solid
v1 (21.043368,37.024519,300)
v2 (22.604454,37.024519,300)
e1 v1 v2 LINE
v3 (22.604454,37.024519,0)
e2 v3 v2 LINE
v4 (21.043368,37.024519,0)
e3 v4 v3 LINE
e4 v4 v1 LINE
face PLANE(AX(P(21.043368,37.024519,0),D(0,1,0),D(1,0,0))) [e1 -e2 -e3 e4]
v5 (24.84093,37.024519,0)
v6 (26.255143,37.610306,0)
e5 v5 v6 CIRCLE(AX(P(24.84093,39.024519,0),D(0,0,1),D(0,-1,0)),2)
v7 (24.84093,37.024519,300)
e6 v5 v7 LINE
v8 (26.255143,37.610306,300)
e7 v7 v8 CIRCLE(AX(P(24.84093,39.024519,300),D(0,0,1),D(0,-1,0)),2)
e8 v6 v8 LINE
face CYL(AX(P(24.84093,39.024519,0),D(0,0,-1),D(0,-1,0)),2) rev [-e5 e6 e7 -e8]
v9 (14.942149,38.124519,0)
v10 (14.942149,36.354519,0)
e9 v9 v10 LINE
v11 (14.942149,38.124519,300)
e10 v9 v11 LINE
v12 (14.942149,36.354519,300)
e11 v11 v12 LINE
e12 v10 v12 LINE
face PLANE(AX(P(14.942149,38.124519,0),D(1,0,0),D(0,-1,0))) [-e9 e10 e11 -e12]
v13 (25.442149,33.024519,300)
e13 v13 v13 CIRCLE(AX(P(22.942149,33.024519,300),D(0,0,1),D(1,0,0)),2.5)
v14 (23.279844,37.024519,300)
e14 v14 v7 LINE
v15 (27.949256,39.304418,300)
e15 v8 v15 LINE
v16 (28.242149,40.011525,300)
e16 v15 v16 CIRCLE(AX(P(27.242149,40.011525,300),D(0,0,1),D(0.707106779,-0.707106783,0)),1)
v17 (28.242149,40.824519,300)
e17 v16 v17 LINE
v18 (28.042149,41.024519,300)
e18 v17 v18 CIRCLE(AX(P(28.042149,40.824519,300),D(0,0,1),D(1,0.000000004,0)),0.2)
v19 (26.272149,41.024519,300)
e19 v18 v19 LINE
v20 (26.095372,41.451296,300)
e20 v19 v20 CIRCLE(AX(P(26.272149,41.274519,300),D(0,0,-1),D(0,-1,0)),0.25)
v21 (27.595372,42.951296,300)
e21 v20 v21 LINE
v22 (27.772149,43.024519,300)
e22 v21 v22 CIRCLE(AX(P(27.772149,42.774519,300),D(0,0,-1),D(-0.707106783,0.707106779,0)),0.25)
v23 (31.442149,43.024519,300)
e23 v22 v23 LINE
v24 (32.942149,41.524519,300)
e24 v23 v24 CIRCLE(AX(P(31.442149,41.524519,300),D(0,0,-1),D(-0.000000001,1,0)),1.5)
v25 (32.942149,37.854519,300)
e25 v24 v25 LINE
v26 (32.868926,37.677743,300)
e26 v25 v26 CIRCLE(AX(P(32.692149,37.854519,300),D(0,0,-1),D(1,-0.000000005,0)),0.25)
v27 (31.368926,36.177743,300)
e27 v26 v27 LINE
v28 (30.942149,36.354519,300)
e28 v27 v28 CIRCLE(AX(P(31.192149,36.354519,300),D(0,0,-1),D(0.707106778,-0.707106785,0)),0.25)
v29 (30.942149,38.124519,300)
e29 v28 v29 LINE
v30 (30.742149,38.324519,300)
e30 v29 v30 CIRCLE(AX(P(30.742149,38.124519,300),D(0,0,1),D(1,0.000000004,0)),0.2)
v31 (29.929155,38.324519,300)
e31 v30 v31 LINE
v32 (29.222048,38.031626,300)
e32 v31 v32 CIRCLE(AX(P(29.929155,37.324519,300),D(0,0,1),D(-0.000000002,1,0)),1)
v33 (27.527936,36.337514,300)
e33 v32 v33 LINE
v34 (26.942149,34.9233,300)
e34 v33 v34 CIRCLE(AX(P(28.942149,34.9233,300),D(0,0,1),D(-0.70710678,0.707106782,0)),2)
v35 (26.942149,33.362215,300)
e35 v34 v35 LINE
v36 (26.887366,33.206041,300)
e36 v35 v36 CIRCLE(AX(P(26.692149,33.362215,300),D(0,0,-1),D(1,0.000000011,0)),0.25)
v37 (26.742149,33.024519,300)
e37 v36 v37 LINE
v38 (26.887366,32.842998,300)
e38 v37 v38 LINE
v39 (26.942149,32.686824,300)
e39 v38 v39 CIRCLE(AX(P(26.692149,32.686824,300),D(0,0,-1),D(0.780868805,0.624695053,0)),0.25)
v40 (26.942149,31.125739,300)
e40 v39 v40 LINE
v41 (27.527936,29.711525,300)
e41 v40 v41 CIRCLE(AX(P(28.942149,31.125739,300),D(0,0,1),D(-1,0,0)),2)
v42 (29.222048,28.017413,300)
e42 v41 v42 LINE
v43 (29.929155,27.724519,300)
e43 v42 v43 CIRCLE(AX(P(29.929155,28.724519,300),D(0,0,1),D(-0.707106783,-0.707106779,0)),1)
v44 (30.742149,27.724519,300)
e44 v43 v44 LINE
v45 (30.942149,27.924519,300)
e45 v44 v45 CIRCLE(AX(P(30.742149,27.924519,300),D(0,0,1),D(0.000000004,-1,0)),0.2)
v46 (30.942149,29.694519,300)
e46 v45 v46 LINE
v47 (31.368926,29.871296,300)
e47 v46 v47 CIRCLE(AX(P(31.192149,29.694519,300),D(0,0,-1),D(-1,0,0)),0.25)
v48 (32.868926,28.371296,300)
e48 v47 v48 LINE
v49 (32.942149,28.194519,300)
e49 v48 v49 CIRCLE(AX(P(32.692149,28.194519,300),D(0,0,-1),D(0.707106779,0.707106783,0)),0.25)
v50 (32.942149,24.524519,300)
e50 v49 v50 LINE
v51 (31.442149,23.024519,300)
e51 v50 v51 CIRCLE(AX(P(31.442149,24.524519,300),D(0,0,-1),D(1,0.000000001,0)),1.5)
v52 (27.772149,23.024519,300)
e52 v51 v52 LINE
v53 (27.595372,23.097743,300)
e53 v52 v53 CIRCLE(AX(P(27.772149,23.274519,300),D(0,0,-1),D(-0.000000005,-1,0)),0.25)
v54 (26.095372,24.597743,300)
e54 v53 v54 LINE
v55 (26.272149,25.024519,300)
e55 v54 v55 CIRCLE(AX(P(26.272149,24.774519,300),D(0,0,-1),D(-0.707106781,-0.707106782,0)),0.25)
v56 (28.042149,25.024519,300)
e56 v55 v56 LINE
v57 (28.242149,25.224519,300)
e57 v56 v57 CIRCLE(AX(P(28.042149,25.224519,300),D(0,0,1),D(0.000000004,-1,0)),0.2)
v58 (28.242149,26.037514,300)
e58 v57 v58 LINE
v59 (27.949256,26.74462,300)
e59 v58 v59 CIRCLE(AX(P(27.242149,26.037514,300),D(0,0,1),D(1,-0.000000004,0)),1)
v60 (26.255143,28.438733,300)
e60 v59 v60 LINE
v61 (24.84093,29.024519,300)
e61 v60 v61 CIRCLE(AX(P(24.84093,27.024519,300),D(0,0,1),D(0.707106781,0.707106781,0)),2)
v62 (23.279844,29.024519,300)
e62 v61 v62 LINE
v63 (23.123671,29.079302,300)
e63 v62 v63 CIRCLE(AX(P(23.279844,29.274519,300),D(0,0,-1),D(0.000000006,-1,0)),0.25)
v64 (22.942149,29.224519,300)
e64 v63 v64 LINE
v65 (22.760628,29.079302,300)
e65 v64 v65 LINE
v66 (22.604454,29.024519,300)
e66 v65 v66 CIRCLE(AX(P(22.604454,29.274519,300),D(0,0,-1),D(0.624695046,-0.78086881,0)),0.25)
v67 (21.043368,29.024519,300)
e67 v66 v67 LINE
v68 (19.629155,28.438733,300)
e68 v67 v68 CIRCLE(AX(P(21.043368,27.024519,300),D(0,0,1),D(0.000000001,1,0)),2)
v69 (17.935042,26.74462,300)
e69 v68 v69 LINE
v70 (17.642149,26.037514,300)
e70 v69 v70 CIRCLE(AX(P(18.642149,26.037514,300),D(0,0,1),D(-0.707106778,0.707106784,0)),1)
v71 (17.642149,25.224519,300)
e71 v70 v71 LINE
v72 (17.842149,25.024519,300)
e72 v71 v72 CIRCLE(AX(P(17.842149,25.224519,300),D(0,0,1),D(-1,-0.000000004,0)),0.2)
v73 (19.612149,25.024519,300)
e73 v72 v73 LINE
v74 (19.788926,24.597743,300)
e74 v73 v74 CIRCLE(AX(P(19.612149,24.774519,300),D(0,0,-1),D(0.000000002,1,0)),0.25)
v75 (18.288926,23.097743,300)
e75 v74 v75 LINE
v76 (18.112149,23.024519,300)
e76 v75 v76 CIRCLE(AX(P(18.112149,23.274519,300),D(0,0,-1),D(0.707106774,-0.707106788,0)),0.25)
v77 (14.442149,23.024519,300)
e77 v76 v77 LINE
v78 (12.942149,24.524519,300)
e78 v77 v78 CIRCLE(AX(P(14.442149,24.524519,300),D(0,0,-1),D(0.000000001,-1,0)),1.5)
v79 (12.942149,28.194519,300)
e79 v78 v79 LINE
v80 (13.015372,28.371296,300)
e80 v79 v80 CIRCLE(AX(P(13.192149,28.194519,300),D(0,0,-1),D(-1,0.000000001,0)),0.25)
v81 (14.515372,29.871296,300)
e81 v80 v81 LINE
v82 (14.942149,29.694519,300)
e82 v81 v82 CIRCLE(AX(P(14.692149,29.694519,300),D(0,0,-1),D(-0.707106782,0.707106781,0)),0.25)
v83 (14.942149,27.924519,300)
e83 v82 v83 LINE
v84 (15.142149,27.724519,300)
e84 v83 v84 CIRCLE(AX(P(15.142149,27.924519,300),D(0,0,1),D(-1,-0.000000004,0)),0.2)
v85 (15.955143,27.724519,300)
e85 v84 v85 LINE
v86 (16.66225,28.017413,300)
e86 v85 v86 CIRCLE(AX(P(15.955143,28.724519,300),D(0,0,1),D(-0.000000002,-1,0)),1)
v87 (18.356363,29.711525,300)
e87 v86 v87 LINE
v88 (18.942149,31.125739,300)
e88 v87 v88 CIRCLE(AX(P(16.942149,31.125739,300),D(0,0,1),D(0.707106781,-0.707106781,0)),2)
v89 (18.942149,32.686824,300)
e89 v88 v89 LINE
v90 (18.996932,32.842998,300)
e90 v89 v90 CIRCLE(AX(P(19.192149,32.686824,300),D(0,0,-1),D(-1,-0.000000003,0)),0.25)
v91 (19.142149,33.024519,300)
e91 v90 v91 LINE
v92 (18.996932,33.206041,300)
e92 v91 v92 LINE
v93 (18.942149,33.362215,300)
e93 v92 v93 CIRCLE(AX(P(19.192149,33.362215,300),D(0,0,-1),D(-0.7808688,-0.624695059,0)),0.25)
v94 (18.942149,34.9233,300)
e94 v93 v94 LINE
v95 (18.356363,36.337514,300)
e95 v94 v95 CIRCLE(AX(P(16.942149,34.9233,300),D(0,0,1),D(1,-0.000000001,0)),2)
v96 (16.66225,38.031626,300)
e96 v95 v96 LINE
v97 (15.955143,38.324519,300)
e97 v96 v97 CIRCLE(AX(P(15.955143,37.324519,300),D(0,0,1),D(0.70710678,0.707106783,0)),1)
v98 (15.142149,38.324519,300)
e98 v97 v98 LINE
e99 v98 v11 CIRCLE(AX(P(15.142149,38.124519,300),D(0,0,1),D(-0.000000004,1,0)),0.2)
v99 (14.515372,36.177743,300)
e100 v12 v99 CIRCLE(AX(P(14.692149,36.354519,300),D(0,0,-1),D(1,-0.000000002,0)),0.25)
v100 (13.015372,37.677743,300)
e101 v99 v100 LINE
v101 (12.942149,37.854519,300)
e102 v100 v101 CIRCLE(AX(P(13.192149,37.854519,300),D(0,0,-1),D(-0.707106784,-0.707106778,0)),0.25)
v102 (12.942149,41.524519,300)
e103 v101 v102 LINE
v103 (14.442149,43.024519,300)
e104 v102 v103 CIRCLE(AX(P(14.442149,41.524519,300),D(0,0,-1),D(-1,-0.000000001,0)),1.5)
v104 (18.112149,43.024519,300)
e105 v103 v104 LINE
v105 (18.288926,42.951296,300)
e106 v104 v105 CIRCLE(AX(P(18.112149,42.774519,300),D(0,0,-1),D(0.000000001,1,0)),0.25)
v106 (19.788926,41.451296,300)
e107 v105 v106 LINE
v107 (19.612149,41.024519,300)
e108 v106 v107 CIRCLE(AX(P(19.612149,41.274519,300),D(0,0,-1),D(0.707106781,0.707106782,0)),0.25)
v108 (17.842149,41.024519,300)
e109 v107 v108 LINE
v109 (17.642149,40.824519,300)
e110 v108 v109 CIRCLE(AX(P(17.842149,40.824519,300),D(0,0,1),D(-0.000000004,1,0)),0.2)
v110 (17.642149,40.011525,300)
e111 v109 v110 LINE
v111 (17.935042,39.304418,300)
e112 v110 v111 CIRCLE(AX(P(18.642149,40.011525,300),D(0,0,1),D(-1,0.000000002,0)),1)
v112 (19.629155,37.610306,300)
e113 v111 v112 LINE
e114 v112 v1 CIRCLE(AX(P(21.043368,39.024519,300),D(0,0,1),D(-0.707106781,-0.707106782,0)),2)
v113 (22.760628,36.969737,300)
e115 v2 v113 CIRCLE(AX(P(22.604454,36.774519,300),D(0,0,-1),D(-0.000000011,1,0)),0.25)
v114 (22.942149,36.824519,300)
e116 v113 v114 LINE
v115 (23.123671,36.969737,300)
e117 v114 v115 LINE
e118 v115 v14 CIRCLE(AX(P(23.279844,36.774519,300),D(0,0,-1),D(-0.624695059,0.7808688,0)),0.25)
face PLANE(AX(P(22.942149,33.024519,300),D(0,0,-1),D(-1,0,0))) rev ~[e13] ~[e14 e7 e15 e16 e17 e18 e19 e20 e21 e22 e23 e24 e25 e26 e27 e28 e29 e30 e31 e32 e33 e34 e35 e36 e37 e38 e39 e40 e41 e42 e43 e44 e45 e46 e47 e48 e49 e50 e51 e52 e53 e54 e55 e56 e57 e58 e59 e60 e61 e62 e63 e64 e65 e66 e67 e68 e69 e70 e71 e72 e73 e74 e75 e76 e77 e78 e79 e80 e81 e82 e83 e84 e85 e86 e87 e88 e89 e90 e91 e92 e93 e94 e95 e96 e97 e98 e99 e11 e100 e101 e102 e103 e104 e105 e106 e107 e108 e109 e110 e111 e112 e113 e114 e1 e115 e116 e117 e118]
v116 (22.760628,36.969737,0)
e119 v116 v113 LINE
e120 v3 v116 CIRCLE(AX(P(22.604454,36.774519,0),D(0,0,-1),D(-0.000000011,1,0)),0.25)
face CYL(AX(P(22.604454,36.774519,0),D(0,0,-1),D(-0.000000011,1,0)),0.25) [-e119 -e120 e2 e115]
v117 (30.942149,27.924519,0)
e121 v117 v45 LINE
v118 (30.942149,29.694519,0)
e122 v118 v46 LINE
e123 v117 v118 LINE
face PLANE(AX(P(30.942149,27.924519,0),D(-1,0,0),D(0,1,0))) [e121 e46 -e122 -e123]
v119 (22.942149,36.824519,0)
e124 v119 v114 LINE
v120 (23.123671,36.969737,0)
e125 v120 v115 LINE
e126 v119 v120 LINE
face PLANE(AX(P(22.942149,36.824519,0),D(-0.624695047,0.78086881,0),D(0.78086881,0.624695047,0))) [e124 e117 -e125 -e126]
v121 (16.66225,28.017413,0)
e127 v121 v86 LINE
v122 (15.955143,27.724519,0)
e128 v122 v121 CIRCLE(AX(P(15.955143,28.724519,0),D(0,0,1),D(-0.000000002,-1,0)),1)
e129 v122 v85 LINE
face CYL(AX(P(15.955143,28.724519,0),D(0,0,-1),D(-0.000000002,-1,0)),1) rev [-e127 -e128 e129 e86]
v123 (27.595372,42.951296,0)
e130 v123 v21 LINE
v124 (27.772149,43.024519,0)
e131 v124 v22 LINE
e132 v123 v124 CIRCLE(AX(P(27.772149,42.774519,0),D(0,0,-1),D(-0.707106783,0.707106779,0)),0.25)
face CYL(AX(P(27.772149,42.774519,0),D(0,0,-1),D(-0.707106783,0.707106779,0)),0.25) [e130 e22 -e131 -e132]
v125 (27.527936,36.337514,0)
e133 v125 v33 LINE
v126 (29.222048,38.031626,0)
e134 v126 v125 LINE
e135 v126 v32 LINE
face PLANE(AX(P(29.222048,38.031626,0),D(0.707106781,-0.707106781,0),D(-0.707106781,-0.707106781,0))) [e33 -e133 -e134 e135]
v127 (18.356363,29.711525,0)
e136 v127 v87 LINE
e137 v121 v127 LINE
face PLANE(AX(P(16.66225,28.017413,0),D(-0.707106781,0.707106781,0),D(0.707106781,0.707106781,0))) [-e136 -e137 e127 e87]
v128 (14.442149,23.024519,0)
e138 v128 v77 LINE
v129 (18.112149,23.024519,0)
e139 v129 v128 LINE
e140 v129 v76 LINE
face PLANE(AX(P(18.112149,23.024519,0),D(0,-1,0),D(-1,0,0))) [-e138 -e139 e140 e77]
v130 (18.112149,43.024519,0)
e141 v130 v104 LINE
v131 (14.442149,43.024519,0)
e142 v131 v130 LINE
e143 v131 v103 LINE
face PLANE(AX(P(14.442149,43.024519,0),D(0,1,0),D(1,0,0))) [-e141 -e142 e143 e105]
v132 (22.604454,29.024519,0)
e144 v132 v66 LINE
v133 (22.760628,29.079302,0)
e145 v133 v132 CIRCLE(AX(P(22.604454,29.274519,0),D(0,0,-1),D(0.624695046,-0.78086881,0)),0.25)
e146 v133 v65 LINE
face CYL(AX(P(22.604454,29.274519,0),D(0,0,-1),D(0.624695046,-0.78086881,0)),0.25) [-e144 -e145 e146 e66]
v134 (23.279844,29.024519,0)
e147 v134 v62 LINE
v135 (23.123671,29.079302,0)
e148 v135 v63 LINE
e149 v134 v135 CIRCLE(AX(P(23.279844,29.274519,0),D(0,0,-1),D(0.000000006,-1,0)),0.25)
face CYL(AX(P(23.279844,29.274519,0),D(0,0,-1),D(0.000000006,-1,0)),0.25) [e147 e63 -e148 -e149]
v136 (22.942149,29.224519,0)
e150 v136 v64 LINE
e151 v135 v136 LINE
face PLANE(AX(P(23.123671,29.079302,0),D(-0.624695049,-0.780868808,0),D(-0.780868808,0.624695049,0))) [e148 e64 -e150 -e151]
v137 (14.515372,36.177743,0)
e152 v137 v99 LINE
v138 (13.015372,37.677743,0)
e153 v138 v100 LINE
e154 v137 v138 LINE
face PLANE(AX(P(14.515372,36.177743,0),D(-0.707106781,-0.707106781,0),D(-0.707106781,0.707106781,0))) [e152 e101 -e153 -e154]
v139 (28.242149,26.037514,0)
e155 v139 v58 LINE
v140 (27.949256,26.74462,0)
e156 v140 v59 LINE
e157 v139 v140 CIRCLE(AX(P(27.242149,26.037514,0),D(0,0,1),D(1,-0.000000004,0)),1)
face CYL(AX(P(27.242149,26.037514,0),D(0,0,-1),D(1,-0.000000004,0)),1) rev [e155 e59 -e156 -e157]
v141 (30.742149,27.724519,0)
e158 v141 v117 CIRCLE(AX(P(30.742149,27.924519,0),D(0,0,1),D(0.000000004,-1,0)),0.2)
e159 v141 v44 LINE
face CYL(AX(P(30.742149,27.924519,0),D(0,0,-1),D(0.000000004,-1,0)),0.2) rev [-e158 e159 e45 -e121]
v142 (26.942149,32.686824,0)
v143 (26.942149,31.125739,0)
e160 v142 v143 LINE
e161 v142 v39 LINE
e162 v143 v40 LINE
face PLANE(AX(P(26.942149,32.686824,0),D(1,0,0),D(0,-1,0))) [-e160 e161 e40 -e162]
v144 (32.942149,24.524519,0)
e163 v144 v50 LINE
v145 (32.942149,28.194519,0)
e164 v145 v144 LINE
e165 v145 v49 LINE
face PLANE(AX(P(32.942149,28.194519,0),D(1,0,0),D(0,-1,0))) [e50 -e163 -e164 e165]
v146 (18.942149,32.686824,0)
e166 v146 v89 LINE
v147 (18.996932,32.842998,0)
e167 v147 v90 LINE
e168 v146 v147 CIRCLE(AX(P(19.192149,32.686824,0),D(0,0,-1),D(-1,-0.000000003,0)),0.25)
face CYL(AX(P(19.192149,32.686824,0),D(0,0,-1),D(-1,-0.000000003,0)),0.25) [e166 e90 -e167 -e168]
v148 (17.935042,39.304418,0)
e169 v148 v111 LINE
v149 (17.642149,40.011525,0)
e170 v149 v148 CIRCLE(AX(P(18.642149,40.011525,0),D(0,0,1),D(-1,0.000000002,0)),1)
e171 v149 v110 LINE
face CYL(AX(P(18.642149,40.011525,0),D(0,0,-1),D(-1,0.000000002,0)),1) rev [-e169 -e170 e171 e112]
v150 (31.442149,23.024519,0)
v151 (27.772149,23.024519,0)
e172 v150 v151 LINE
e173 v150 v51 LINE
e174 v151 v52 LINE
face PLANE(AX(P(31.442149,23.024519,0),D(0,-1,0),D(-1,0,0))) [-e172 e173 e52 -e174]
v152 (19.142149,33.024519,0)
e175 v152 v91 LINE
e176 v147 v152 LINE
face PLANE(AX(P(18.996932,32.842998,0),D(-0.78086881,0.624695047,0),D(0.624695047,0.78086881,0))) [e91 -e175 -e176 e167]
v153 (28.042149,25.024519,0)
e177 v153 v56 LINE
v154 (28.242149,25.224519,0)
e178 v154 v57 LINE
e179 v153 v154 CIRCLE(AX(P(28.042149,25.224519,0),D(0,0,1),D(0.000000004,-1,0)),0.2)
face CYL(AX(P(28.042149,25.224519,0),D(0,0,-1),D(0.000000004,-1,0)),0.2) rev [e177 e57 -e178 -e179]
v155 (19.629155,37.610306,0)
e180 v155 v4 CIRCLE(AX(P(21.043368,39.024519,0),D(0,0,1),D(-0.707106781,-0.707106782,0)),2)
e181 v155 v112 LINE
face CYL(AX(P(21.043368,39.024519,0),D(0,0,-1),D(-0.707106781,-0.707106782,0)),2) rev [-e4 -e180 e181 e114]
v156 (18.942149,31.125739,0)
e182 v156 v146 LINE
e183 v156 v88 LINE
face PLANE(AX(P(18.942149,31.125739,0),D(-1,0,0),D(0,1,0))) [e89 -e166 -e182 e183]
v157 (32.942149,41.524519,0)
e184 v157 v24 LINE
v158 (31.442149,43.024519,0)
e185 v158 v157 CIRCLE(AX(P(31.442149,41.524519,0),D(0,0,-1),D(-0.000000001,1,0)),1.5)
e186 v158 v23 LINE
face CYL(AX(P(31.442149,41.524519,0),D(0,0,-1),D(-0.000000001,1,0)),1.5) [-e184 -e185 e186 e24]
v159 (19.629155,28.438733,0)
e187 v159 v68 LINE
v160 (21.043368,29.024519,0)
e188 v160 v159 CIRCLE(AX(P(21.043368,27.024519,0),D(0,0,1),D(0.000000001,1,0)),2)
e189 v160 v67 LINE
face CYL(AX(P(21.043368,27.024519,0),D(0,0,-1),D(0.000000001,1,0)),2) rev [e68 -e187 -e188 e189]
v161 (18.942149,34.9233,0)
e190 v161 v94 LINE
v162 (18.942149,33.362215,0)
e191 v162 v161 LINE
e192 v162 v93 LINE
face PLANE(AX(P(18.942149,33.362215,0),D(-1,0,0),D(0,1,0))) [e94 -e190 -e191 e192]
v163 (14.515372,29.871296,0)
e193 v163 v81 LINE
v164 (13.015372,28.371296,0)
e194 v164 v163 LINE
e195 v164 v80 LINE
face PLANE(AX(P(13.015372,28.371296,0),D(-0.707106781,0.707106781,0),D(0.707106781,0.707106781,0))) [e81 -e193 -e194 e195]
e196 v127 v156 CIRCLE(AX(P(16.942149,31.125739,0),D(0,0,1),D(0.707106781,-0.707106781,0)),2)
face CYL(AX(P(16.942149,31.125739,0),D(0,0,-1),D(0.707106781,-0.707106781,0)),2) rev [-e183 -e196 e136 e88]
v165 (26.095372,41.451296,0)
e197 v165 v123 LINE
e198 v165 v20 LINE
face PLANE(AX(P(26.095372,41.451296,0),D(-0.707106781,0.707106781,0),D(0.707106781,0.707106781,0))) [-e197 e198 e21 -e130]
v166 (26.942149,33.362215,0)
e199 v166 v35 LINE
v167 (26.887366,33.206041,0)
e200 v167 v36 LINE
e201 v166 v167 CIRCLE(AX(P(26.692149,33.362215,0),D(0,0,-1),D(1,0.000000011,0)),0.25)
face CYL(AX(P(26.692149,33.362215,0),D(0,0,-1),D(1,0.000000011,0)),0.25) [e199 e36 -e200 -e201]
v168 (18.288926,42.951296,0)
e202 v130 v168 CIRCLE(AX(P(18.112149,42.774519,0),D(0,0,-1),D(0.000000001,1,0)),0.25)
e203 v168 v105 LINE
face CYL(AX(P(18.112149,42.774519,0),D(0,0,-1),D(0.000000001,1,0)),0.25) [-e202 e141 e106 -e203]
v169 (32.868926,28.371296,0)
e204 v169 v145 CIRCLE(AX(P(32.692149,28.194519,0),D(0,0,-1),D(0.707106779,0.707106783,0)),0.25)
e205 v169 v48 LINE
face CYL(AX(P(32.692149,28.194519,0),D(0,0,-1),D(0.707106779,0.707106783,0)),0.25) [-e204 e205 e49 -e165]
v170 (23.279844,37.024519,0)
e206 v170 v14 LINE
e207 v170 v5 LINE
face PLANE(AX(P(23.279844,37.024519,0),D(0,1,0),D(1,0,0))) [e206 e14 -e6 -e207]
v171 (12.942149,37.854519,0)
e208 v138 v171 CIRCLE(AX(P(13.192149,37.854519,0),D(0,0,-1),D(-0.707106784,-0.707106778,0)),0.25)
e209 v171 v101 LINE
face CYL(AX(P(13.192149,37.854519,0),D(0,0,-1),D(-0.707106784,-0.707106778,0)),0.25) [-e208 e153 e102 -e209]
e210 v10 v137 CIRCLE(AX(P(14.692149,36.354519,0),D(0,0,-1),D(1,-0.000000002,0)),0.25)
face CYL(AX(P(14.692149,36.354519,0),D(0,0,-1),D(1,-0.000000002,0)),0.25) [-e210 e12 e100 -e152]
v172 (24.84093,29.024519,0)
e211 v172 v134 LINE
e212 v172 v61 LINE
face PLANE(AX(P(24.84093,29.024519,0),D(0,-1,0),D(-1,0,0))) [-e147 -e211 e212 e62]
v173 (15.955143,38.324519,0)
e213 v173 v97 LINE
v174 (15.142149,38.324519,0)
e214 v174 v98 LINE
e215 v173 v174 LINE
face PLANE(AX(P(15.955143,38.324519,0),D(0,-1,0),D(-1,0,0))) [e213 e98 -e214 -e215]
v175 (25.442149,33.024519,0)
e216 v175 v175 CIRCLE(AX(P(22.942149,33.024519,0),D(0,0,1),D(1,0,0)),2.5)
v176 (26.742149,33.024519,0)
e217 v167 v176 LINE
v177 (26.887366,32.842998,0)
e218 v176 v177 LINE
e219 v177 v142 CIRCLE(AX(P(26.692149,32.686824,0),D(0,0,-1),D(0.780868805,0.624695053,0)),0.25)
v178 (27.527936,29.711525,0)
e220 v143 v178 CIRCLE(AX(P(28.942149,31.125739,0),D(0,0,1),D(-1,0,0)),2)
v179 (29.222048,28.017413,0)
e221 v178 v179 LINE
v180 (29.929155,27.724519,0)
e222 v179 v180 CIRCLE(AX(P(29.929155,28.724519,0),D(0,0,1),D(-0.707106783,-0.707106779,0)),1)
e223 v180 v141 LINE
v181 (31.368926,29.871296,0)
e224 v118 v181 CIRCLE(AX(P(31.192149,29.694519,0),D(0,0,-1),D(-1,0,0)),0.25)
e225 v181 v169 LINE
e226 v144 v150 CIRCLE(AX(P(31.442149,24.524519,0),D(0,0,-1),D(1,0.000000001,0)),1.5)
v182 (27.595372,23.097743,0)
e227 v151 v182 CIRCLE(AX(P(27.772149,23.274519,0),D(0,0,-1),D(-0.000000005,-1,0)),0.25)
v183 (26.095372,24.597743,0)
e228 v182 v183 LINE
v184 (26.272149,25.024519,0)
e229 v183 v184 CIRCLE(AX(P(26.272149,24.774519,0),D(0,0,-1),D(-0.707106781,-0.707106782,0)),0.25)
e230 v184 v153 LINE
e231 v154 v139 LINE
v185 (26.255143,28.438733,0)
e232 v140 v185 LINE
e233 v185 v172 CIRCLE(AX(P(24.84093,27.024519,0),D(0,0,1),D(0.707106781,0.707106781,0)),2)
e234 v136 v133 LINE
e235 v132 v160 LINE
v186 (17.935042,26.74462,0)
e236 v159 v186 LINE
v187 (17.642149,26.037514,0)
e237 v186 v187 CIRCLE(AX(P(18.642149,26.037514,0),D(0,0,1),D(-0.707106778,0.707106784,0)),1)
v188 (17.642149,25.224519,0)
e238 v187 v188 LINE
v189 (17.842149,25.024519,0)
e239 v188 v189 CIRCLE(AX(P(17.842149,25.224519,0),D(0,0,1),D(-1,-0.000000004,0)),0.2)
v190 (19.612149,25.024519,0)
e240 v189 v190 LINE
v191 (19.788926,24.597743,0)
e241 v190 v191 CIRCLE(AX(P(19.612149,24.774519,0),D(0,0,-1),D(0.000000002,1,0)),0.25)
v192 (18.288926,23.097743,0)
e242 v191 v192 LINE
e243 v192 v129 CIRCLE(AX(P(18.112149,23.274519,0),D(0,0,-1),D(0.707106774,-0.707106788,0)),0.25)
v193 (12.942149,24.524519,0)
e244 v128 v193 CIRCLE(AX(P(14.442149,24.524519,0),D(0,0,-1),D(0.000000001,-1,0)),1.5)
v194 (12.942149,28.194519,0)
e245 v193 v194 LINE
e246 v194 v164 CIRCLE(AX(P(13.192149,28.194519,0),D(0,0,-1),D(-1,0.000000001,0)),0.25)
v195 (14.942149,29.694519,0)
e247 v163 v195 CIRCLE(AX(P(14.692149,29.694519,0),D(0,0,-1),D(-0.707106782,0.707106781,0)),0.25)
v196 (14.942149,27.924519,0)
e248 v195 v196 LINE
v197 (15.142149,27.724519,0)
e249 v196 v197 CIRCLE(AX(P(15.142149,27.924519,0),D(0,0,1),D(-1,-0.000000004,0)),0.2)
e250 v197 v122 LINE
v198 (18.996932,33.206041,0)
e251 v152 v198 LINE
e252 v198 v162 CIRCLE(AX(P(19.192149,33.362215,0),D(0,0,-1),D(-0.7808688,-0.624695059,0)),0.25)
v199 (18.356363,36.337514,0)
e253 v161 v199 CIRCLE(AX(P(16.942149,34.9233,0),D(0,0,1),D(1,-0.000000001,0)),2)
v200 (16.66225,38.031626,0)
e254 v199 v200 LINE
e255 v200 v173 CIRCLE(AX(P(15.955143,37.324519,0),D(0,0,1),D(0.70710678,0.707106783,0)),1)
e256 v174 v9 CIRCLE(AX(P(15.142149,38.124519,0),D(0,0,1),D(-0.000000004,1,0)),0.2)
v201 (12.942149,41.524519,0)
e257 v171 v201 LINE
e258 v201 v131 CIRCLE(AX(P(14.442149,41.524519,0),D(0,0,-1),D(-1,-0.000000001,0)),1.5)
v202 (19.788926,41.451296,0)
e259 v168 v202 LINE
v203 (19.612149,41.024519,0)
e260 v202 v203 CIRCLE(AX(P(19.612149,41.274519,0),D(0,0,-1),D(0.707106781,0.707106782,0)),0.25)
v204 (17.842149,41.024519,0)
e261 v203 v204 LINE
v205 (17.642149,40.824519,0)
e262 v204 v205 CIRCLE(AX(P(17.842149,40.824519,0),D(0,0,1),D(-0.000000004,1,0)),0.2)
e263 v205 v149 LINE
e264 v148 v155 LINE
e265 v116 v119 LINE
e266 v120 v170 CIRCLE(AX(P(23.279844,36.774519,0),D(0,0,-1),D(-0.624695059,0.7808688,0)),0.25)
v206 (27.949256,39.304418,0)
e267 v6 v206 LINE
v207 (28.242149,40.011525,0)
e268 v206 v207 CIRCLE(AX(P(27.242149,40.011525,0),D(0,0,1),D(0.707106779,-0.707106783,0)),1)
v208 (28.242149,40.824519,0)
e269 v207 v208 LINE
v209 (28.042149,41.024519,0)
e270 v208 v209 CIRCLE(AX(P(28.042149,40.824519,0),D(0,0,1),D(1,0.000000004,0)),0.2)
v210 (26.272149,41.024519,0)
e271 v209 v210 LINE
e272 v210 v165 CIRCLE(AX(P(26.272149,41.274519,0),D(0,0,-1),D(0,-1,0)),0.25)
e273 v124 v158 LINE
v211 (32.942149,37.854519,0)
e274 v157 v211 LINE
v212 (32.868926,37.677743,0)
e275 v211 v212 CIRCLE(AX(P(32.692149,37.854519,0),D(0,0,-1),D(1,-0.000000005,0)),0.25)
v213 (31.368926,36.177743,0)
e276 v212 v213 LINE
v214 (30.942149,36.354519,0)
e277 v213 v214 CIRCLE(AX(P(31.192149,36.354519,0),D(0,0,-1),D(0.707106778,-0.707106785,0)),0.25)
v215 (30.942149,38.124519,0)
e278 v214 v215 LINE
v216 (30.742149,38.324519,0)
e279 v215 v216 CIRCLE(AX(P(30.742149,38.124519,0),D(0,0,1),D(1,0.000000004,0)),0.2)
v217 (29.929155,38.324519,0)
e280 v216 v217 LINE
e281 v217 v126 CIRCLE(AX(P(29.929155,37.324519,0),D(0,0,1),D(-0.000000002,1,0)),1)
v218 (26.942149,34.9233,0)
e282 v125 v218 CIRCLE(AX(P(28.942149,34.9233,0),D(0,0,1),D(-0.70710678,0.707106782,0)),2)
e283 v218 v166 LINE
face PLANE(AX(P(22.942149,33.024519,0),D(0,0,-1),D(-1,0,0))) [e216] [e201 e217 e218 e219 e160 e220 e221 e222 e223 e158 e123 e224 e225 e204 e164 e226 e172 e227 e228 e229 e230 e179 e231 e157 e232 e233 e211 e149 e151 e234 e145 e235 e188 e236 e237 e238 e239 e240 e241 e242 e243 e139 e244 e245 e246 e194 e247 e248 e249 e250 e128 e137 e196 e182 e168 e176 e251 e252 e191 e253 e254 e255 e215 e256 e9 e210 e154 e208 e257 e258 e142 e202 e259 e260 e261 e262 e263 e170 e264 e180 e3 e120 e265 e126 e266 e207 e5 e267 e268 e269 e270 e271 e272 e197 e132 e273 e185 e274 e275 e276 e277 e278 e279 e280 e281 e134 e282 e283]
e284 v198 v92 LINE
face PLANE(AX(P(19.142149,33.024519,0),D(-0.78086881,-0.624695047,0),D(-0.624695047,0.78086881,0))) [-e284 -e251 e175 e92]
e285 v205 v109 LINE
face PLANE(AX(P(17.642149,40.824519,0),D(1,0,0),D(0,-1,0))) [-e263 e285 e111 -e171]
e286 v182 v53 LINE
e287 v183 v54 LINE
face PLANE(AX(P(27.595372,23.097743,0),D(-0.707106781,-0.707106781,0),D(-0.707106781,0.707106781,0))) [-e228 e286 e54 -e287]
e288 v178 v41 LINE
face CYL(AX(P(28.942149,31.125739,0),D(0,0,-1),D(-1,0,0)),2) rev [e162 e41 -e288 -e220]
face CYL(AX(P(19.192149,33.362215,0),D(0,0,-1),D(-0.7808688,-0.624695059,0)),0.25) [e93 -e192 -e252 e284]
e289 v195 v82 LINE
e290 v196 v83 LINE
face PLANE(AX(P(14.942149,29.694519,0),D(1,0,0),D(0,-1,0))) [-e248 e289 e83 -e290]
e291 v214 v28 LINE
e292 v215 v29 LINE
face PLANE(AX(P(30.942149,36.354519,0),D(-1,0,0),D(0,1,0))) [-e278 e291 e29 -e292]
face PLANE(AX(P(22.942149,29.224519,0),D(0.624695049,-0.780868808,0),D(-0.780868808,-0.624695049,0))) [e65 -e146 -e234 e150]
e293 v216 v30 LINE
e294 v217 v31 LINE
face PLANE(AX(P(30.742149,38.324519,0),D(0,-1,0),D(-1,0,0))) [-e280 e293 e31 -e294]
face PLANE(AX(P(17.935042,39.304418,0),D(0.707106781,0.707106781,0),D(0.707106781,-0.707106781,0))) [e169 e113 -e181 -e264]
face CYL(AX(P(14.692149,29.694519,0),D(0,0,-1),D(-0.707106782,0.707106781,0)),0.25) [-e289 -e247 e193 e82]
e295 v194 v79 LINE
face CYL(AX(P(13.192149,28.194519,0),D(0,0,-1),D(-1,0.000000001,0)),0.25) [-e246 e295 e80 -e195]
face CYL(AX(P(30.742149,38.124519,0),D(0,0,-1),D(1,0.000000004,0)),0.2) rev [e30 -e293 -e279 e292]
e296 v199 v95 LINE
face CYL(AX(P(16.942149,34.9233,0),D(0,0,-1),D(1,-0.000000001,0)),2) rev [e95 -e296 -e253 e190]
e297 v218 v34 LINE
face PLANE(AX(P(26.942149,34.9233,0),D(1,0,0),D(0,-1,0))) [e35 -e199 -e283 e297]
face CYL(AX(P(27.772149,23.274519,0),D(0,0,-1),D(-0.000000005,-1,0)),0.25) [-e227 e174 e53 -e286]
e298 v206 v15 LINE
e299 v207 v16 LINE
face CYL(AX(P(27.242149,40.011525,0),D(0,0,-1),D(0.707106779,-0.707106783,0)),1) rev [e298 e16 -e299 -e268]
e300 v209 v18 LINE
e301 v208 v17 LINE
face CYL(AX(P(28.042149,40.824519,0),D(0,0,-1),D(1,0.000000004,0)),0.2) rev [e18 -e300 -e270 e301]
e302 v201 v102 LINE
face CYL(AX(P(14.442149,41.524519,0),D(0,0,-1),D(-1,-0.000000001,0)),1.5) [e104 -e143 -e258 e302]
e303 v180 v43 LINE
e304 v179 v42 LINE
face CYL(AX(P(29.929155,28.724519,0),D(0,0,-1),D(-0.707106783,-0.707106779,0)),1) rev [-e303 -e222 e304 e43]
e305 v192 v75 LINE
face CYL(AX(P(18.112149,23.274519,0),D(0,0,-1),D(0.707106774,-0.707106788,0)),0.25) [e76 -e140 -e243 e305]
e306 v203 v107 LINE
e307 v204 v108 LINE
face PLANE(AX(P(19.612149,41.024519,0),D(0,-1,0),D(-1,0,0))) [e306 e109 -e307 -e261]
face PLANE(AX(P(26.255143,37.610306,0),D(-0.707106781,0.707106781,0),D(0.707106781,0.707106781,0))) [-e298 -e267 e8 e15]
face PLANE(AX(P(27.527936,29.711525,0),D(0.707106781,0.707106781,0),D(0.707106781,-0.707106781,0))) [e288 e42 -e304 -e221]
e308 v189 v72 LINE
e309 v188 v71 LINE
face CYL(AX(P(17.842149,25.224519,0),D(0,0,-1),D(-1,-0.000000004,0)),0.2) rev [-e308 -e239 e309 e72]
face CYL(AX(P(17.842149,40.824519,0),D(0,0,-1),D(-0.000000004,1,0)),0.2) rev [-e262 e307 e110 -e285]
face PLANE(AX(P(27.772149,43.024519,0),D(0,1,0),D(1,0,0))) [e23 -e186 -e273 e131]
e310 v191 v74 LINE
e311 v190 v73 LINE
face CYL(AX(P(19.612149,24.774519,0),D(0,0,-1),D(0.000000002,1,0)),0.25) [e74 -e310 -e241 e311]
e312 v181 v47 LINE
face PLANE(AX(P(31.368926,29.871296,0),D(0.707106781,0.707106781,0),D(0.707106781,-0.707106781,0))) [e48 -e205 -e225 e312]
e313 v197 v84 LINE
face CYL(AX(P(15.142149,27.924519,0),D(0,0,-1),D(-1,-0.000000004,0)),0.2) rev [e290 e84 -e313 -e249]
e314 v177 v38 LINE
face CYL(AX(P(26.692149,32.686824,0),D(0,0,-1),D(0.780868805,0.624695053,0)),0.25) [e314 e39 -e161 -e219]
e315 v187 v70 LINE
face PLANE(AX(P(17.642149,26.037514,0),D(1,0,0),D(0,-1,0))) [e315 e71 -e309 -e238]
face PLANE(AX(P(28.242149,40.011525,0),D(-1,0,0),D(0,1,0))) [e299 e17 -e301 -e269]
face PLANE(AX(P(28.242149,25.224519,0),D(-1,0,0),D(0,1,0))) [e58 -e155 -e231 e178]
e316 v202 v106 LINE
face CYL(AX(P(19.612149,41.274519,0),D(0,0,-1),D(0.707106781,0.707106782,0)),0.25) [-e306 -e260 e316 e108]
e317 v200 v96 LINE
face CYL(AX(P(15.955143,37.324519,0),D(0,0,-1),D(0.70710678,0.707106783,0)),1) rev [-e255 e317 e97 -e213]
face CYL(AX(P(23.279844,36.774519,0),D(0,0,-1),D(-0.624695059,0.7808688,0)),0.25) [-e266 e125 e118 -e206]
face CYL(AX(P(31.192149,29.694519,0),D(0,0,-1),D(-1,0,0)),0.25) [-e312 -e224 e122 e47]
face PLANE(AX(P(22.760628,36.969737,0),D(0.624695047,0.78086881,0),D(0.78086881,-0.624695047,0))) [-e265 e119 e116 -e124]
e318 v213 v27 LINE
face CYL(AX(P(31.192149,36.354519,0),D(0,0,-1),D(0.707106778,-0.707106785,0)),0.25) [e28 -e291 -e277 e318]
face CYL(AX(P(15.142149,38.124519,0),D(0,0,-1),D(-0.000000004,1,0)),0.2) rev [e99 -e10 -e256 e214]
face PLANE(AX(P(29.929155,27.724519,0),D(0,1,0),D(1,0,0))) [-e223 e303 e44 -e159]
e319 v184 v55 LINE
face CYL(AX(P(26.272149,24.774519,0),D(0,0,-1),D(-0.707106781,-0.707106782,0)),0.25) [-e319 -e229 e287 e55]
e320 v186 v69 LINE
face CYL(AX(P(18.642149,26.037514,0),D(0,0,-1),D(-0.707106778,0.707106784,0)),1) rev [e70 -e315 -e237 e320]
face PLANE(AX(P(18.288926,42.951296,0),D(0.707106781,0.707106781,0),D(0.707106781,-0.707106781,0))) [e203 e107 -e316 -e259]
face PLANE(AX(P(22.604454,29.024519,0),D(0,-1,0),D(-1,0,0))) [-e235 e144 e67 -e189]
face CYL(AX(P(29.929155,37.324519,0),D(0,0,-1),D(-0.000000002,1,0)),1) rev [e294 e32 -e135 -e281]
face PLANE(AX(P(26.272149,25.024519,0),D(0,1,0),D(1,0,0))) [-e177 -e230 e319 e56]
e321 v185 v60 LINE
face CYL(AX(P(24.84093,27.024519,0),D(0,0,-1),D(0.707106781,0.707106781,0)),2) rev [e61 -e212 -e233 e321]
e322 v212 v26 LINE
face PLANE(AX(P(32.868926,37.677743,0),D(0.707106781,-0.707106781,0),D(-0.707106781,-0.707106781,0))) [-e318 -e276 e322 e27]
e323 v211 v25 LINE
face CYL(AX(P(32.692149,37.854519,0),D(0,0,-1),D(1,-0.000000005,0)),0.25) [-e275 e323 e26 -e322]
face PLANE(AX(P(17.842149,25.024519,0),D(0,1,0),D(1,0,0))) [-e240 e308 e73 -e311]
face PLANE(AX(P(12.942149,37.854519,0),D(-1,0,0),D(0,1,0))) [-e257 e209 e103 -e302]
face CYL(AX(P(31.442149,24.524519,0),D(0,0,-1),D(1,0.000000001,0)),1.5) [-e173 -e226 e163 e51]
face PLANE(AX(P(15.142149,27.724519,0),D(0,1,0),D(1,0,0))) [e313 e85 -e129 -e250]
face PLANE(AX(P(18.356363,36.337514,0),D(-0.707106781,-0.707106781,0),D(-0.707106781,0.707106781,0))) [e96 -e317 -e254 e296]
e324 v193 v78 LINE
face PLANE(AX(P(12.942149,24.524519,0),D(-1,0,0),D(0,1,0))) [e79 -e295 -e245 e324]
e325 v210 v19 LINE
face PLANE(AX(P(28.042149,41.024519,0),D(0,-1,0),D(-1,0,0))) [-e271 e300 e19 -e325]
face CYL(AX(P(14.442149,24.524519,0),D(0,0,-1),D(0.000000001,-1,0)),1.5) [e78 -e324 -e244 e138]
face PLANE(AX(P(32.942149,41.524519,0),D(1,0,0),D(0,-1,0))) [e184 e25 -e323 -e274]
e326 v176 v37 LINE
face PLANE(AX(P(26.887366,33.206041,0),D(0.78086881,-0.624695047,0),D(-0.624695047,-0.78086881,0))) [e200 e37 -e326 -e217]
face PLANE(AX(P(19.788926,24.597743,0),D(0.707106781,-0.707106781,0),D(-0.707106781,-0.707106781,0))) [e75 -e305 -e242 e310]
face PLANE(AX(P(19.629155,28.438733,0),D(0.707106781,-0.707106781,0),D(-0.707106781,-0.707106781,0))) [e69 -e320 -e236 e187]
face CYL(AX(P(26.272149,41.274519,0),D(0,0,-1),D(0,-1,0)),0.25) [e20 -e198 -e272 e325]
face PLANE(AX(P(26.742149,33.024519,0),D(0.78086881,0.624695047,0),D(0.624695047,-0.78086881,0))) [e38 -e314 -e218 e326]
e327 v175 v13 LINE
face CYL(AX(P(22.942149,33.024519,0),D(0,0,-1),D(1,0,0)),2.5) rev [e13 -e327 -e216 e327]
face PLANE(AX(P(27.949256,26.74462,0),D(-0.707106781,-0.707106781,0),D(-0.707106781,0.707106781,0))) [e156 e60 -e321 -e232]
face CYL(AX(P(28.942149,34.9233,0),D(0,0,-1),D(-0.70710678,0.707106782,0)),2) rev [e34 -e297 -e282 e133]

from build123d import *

# Parameters (mm, degrees)
MODEL_R         = 2.5
EXTRUDE_1_DEPTH = 300


with BuildPart() as part:
    # Model → Бобышка-Вытянуть1 (new body)
    with BuildSketch(Plane.XY):
        with BuildLine():
            Line((18.94214915, 33.362214718), (18.94214915, 34.923300122))
            ThreePointArc((18.94214915, 34.923300122), (18.789908215, 35.688666987), (18.356362712, 36.337513684))
            Line((18.356362712, 36.337513684), (16.662250163, 38.031626234))
            ThreePointArc((16.662250163, 38.031626234), (16.337826814, 38.248398985), (15.955143382, 38.324519453))
            Line((15.955143382, 38.324519453), (15.14214915, 38.324519453))
            ThreePointArc((15.14214915, 38.324519453), (15.000727794, 38.265940809), (14.94214915, 38.124519453))
            Line((14.94214915, 38.124519453), (14.94214915, 36.354519453))
            ThreePointArc((14.94214915, 36.354519453), (14.787820008, 36.12354957), (14.515372455, 36.177742757))
            Line((14.515372455, 36.177742757), (13.015372455, 37.677742757))
            ThreePointArc((13.015372455, 37.677742757), (12.961179267, 37.758848595), (12.94214915, 37.854519453))
            Line((12.94214915, 37.854519453), (12.94214915, 41.524519453))
            ThreePointArc((12.94214915, 41.524519453), (13.381488978, 42.585179625), (14.44214915, 43.024519453))
            Line((14.44214915, 43.024519453), (18.11214915, 43.024519453))
            ThreePointArc((18.11214915, 43.024519453), (18.207820008, 43.005489336), (18.288925845, 42.951296148))
            Line((18.288925845, 42.951296148), (19.788925845, 41.451296148))
            ThreePointArc((19.788925845, 41.451296148), (19.843119033, 41.178848595), (19.61214915, 41.024519453))
            Line((19.61214915, 41.024519453), (17.84214915, 41.024519453))
            ThreePointArc((17.84214915, 41.024519453), (17.700727794, 40.965940809), (17.64214915, 40.824519453))
            Line((17.64214915, 40.824519453), (17.64214915, 40.011525221))
            ThreePointArc((17.64214915, 40.011525221), (17.718269617, 39.628841789), (17.935042369, 39.30441844))
            Line((17.935042369, 39.30441844), (19.629154919, 37.61030589))
            ThreePointArc((19.629154919, 37.61030589), (20.278001616, 37.176760388), (21.043368481, 37.024519453))
            Line((21.043368481, 37.024519453), (22.604453885, 37.024519453))
            ThreePointArc((22.604453885, 37.024519453), (22.687205621, 37.010426533), (22.760627647, 36.969736655))
            Line((22.760627647, 36.969736655), (22.94214915, 36.824519453))
            Line((22.94214915, 36.824519453), (23.123670653, 36.969736655))
            ThreePointArc((23.123670653, 36.969736655), (23.197092679, 37.010426533), (23.279844415, 37.024519453))
            Line((23.279844415, 37.024519453), (24.840929819, 37.024519453))
            ThreePointArc((24.840929819, 37.024519453), (25.606296684, 37.176760388), (26.255143382, 37.61030589))
            Line((26.255143382, 37.61030589), (27.949255931, 39.30441844))
            ThreePointArc((27.949255931, 39.30441844), (28.166028683, 39.628841789), (28.24214915, 40.011525221))
            Line((28.24214915, 40.011525221), (28.24214915, 40.824519453))
            ThreePointArc((28.24214915, 40.824519453), (28.183570506, 40.965940809), (28.04214915, 41.024519453))
            Line((28.04214915, 41.024519453), (26.27214915, 41.024519453))
            ThreePointArc((26.27214915, 41.024519453), (26.041179267, 41.178848595), (26.095372455, 41.451296148))
            Line((26.095372455, 41.451296148), (27.595372455, 42.951296148))
            ThreePointArc((27.595372455, 42.951296148), (27.676478292, 43.005489336), (27.77214915, 43.024519453))
            Line((27.77214915, 43.024519453), (31.44214915, 43.024519453))
            ThreePointArc((31.44214915, 43.024519453), (32.502809322, 42.585179625), (32.94214915, 41.524519453))
            Line((32.94214915, 41.524519453), (32.94214915, 37.854519453))
            ThreePointArc((32.94214915, 37.854519453), (32.923119033, 37.758848595), (32.868925845, 37.677742757))
            Line((32.868925845, 37.677742757), (31.368925845, 36.177742757))
            ThreePointArc((31.368925845, 36.177742757), (31.096478292, 36.12354957), (30.94214915, 36.354519453))
            Line((30.94214915, 36.354519453), (30.94214915, 38.124519453))
            ThreePointArc((30.94214915, 38.124519453), (30.883570506, 38.265940809), (30.74214915, 38.324519453))
            Line((30.74214915, 38.324519453), (29.929154919, 38.324519453))
            ThreePointArc((29.929154919, 38.324519453), (29.546471486, 38.248398985), (29.222048137, 38.031626234))
            Line((29.222048137, 38.031626234), (27.527935588, 36.337513684))
            ThreePointArc((27.527935588, 36.337513684), (27.094390085, 35.688666987), (26.94214915, 34.923300122))
            Line((26.94214915, 34.923300122), (26.94214915, 33.362214718))
            ThreePointArc((26.94214915, 33.362214718), (26.92805623, 33.279462982), (26.887366352, 33.206040956))
            Line((26.887366352, 33.206040956), (26.74214915, 33.024519453))
            Line((26.74214915, 33.024519453), (26.887366352, 32.84299795))
            ThreePointArc((26.887366352, 32.84299795), (26.92805623, 32.769575923), (26.94214915, 32.686824188))
            Line((26.94214915, 32.686824188), (26.94214915, 31.125738784))
            ThreePointArc((26.94214915, 31.125738784), (27.094390085, 30.360371919), (27.527935588, 29.711525221))
            Line((27.527935588, 29.711525221), (29.222048137, 28.017412672))
            ThreePointArc((29.222048137, 28.017412672), (29.546471486, 27.80063992), (29.929154919, 27.724519453))
            Line((29.929154919, 27.724519453), (30.74214915, 27.724519453))
            ThreePointArc((30.74214915, 27.724519453), (30.883570506, 27.783098097), (30.94214915, 27.924519453))
            Line((30.94214915, 27.924519453), (30.94214915, 29.694519453))
            ThreePointArc((30.94214915, 29.694519453), (31.096478292, 29.925489336), (31.368925845, 29.871296148))
            Line((31.368925845, 29.871296148), (32.868925845, 28.371296148))
            ThreePointArc((32.868925845, 28.371296148), (32.923119033, 28.290190311), (32.94214915, 28.194519453))
            Line((32.94214915, 28.194519453), (32.94214915, 24.524519453))
            ThreePointArc((32.94214915, 24.524519453), (32.502809322, 23.463859281), (31.44214915, 23.024519453))
            Line((31.44214915, 23.024519453), (27.77214915, 23.024519453))
            ThreePointArc((27.77214915, 23.024519453), (27.676478292, 23.04354957), (27.595372455, 23.097742757))
            Line((27.595372455, 23.097742757), (26.095372455, 24.597742757))
            ThreePointArc((26.095372455, 24.597742757), (26.041179267, 24.870190311), (26.27214915, 25.024519453))
            Line((26.27214915, 25.024519453), (28.04214915, 25.024519453))
            ThreePointArc((28.04214915, 25.024519453), (28.183570506, 25.083098097), (28.24214915, 25.224519453))
            Line((28.24214915, 25.224519453), (28.24214915, 26.037513684))
            ThreePointArc((28.24214915, 26.037513684), (28.166028683, 26.420197117), (27.949255931, 26.744620465))
            Line((27.949255931, 26.744620465), (26.255143382, 28.438733015))
            ThreePointArc((26.255143382, 28.438733015), (25.606296684, 28.872278518), (24.840929819, 29.024519453))
            Line((24.840929819, 29.024519453), (23.279844415, 29.024519453))
            ThreePointArc((23.279844415, 29.024519453), (23.197092679, 29.038612373), (23.123670653, 29.07930225))
            Line((23.123670653, 29.07930225), (22.94214915, 29.224519453))
            Line((22.94214915, 29.224519453), (22.760627647, 29.07930225))
            ThreePointArc((22.760627647, 29.07930225), (22.687205621, 29.038612373), (22.604453885, 29.024519453))
            Line((22.604453885, 29.024519453), (21.043368481, 29.024519453))
            ThreePointArc((21.043368481, 29.024519453), (20.278001616, 28.872278518), (19.629154919, 28.438733015))
            Line((19.629154919, 28.438733015), (17.935042369, 26.744620465))
            ThreePointArc((17.935042369, 26.744620465), (17.718269617, 26.420197117), (17.64214915, 26.037513684))
            Line((17.64214915, 26.037513684), (17.64214915, 25.224519453))
            ThreePointArc((17.64214915, 25.224519453), (17.700727794, 25.083098097), (17.84214915, 25.024519453))
            Line((17.84214915, 25.024519453), (19.61214915, 25.024519453))
            ThreePointArc((19.61214915, 25.024519453), (19.843119033, 24.870190311), (19.788925845, 24.597742757))
            Line((19.788925845, 24.597742757), (18.288925845, 23.097742757))
            ThreePointArc((18.288925845, 23.097742757), (18.207820008, 23.04354957), (18.11214915, 23.024519453))
            Line((18.11214915, 23.024519453), (14.44214915, 23.024519453))
            ThreePointArc((14.44214915, 23.024519453), (13.381488978, 23.463859281), (12.94214915, 24.524519453))
            Line((12.94214915, 24.524519453), (12.94214915, 28.194519453))
            ThreePointArc((12.94214915, 28.194519453), (12.961179267, 28.290190311), (13.015372455, 28.371296148))
            Line((13.015372455, 28.371296148), (14.515372455, 29.871296148))
            ThreePointArc((14.515372455, 29.871296148), (14.787820008, 29.925489336), (14.94214915, 29.694519453))
            Line((14.94214915, 29.694519453), (14.94214915, 27.924519453))
            ThreePointArc((14.94214915, 27.924519453), (15.000727794, 27.783098097), (15.14214915, 27.724519453))
            Line((15.14214915, 27.724519453), (15.955143382, 27.724519453))
            ThreePointArc((15.955143382, 27.724519453), (16.337826814, 27.80063992), (16.662250163, 28.017412672))
            Line((16.662250163, 28.017412672), (18.356362712, 29.711525221))
            ThreePointArc((18.356362712, 29.711525221), (18.789908215, 30.360371919), (18.94214915, 31.125738784))
            Line((18.94214915, 31.125738784), (18.94214915, 32.686824188))
            ThreePointArc((18.94214915, 32.686824188), (18.95624207, 32.769575923), (18.996931948, 32.84299795))
            Line((18.996931948, 32.84299795), (19.14214915, 33.024519453))
            Line((19.14214915, 33.024519453), (18.996931948, 33.206040956))
            ThreePointArc((18.996931948, 33.206040956), (18.95624207, 33.279462982), (18.94214915, 33.362214718))
        make_face()
        with Locations((22.94214915, 33.024519453)):
            Circle(MODEL_R, mode=Mode.SUBTRACT)
    extrude(amount=EXTRUDE_1_DEPTH)


solid = part.part
